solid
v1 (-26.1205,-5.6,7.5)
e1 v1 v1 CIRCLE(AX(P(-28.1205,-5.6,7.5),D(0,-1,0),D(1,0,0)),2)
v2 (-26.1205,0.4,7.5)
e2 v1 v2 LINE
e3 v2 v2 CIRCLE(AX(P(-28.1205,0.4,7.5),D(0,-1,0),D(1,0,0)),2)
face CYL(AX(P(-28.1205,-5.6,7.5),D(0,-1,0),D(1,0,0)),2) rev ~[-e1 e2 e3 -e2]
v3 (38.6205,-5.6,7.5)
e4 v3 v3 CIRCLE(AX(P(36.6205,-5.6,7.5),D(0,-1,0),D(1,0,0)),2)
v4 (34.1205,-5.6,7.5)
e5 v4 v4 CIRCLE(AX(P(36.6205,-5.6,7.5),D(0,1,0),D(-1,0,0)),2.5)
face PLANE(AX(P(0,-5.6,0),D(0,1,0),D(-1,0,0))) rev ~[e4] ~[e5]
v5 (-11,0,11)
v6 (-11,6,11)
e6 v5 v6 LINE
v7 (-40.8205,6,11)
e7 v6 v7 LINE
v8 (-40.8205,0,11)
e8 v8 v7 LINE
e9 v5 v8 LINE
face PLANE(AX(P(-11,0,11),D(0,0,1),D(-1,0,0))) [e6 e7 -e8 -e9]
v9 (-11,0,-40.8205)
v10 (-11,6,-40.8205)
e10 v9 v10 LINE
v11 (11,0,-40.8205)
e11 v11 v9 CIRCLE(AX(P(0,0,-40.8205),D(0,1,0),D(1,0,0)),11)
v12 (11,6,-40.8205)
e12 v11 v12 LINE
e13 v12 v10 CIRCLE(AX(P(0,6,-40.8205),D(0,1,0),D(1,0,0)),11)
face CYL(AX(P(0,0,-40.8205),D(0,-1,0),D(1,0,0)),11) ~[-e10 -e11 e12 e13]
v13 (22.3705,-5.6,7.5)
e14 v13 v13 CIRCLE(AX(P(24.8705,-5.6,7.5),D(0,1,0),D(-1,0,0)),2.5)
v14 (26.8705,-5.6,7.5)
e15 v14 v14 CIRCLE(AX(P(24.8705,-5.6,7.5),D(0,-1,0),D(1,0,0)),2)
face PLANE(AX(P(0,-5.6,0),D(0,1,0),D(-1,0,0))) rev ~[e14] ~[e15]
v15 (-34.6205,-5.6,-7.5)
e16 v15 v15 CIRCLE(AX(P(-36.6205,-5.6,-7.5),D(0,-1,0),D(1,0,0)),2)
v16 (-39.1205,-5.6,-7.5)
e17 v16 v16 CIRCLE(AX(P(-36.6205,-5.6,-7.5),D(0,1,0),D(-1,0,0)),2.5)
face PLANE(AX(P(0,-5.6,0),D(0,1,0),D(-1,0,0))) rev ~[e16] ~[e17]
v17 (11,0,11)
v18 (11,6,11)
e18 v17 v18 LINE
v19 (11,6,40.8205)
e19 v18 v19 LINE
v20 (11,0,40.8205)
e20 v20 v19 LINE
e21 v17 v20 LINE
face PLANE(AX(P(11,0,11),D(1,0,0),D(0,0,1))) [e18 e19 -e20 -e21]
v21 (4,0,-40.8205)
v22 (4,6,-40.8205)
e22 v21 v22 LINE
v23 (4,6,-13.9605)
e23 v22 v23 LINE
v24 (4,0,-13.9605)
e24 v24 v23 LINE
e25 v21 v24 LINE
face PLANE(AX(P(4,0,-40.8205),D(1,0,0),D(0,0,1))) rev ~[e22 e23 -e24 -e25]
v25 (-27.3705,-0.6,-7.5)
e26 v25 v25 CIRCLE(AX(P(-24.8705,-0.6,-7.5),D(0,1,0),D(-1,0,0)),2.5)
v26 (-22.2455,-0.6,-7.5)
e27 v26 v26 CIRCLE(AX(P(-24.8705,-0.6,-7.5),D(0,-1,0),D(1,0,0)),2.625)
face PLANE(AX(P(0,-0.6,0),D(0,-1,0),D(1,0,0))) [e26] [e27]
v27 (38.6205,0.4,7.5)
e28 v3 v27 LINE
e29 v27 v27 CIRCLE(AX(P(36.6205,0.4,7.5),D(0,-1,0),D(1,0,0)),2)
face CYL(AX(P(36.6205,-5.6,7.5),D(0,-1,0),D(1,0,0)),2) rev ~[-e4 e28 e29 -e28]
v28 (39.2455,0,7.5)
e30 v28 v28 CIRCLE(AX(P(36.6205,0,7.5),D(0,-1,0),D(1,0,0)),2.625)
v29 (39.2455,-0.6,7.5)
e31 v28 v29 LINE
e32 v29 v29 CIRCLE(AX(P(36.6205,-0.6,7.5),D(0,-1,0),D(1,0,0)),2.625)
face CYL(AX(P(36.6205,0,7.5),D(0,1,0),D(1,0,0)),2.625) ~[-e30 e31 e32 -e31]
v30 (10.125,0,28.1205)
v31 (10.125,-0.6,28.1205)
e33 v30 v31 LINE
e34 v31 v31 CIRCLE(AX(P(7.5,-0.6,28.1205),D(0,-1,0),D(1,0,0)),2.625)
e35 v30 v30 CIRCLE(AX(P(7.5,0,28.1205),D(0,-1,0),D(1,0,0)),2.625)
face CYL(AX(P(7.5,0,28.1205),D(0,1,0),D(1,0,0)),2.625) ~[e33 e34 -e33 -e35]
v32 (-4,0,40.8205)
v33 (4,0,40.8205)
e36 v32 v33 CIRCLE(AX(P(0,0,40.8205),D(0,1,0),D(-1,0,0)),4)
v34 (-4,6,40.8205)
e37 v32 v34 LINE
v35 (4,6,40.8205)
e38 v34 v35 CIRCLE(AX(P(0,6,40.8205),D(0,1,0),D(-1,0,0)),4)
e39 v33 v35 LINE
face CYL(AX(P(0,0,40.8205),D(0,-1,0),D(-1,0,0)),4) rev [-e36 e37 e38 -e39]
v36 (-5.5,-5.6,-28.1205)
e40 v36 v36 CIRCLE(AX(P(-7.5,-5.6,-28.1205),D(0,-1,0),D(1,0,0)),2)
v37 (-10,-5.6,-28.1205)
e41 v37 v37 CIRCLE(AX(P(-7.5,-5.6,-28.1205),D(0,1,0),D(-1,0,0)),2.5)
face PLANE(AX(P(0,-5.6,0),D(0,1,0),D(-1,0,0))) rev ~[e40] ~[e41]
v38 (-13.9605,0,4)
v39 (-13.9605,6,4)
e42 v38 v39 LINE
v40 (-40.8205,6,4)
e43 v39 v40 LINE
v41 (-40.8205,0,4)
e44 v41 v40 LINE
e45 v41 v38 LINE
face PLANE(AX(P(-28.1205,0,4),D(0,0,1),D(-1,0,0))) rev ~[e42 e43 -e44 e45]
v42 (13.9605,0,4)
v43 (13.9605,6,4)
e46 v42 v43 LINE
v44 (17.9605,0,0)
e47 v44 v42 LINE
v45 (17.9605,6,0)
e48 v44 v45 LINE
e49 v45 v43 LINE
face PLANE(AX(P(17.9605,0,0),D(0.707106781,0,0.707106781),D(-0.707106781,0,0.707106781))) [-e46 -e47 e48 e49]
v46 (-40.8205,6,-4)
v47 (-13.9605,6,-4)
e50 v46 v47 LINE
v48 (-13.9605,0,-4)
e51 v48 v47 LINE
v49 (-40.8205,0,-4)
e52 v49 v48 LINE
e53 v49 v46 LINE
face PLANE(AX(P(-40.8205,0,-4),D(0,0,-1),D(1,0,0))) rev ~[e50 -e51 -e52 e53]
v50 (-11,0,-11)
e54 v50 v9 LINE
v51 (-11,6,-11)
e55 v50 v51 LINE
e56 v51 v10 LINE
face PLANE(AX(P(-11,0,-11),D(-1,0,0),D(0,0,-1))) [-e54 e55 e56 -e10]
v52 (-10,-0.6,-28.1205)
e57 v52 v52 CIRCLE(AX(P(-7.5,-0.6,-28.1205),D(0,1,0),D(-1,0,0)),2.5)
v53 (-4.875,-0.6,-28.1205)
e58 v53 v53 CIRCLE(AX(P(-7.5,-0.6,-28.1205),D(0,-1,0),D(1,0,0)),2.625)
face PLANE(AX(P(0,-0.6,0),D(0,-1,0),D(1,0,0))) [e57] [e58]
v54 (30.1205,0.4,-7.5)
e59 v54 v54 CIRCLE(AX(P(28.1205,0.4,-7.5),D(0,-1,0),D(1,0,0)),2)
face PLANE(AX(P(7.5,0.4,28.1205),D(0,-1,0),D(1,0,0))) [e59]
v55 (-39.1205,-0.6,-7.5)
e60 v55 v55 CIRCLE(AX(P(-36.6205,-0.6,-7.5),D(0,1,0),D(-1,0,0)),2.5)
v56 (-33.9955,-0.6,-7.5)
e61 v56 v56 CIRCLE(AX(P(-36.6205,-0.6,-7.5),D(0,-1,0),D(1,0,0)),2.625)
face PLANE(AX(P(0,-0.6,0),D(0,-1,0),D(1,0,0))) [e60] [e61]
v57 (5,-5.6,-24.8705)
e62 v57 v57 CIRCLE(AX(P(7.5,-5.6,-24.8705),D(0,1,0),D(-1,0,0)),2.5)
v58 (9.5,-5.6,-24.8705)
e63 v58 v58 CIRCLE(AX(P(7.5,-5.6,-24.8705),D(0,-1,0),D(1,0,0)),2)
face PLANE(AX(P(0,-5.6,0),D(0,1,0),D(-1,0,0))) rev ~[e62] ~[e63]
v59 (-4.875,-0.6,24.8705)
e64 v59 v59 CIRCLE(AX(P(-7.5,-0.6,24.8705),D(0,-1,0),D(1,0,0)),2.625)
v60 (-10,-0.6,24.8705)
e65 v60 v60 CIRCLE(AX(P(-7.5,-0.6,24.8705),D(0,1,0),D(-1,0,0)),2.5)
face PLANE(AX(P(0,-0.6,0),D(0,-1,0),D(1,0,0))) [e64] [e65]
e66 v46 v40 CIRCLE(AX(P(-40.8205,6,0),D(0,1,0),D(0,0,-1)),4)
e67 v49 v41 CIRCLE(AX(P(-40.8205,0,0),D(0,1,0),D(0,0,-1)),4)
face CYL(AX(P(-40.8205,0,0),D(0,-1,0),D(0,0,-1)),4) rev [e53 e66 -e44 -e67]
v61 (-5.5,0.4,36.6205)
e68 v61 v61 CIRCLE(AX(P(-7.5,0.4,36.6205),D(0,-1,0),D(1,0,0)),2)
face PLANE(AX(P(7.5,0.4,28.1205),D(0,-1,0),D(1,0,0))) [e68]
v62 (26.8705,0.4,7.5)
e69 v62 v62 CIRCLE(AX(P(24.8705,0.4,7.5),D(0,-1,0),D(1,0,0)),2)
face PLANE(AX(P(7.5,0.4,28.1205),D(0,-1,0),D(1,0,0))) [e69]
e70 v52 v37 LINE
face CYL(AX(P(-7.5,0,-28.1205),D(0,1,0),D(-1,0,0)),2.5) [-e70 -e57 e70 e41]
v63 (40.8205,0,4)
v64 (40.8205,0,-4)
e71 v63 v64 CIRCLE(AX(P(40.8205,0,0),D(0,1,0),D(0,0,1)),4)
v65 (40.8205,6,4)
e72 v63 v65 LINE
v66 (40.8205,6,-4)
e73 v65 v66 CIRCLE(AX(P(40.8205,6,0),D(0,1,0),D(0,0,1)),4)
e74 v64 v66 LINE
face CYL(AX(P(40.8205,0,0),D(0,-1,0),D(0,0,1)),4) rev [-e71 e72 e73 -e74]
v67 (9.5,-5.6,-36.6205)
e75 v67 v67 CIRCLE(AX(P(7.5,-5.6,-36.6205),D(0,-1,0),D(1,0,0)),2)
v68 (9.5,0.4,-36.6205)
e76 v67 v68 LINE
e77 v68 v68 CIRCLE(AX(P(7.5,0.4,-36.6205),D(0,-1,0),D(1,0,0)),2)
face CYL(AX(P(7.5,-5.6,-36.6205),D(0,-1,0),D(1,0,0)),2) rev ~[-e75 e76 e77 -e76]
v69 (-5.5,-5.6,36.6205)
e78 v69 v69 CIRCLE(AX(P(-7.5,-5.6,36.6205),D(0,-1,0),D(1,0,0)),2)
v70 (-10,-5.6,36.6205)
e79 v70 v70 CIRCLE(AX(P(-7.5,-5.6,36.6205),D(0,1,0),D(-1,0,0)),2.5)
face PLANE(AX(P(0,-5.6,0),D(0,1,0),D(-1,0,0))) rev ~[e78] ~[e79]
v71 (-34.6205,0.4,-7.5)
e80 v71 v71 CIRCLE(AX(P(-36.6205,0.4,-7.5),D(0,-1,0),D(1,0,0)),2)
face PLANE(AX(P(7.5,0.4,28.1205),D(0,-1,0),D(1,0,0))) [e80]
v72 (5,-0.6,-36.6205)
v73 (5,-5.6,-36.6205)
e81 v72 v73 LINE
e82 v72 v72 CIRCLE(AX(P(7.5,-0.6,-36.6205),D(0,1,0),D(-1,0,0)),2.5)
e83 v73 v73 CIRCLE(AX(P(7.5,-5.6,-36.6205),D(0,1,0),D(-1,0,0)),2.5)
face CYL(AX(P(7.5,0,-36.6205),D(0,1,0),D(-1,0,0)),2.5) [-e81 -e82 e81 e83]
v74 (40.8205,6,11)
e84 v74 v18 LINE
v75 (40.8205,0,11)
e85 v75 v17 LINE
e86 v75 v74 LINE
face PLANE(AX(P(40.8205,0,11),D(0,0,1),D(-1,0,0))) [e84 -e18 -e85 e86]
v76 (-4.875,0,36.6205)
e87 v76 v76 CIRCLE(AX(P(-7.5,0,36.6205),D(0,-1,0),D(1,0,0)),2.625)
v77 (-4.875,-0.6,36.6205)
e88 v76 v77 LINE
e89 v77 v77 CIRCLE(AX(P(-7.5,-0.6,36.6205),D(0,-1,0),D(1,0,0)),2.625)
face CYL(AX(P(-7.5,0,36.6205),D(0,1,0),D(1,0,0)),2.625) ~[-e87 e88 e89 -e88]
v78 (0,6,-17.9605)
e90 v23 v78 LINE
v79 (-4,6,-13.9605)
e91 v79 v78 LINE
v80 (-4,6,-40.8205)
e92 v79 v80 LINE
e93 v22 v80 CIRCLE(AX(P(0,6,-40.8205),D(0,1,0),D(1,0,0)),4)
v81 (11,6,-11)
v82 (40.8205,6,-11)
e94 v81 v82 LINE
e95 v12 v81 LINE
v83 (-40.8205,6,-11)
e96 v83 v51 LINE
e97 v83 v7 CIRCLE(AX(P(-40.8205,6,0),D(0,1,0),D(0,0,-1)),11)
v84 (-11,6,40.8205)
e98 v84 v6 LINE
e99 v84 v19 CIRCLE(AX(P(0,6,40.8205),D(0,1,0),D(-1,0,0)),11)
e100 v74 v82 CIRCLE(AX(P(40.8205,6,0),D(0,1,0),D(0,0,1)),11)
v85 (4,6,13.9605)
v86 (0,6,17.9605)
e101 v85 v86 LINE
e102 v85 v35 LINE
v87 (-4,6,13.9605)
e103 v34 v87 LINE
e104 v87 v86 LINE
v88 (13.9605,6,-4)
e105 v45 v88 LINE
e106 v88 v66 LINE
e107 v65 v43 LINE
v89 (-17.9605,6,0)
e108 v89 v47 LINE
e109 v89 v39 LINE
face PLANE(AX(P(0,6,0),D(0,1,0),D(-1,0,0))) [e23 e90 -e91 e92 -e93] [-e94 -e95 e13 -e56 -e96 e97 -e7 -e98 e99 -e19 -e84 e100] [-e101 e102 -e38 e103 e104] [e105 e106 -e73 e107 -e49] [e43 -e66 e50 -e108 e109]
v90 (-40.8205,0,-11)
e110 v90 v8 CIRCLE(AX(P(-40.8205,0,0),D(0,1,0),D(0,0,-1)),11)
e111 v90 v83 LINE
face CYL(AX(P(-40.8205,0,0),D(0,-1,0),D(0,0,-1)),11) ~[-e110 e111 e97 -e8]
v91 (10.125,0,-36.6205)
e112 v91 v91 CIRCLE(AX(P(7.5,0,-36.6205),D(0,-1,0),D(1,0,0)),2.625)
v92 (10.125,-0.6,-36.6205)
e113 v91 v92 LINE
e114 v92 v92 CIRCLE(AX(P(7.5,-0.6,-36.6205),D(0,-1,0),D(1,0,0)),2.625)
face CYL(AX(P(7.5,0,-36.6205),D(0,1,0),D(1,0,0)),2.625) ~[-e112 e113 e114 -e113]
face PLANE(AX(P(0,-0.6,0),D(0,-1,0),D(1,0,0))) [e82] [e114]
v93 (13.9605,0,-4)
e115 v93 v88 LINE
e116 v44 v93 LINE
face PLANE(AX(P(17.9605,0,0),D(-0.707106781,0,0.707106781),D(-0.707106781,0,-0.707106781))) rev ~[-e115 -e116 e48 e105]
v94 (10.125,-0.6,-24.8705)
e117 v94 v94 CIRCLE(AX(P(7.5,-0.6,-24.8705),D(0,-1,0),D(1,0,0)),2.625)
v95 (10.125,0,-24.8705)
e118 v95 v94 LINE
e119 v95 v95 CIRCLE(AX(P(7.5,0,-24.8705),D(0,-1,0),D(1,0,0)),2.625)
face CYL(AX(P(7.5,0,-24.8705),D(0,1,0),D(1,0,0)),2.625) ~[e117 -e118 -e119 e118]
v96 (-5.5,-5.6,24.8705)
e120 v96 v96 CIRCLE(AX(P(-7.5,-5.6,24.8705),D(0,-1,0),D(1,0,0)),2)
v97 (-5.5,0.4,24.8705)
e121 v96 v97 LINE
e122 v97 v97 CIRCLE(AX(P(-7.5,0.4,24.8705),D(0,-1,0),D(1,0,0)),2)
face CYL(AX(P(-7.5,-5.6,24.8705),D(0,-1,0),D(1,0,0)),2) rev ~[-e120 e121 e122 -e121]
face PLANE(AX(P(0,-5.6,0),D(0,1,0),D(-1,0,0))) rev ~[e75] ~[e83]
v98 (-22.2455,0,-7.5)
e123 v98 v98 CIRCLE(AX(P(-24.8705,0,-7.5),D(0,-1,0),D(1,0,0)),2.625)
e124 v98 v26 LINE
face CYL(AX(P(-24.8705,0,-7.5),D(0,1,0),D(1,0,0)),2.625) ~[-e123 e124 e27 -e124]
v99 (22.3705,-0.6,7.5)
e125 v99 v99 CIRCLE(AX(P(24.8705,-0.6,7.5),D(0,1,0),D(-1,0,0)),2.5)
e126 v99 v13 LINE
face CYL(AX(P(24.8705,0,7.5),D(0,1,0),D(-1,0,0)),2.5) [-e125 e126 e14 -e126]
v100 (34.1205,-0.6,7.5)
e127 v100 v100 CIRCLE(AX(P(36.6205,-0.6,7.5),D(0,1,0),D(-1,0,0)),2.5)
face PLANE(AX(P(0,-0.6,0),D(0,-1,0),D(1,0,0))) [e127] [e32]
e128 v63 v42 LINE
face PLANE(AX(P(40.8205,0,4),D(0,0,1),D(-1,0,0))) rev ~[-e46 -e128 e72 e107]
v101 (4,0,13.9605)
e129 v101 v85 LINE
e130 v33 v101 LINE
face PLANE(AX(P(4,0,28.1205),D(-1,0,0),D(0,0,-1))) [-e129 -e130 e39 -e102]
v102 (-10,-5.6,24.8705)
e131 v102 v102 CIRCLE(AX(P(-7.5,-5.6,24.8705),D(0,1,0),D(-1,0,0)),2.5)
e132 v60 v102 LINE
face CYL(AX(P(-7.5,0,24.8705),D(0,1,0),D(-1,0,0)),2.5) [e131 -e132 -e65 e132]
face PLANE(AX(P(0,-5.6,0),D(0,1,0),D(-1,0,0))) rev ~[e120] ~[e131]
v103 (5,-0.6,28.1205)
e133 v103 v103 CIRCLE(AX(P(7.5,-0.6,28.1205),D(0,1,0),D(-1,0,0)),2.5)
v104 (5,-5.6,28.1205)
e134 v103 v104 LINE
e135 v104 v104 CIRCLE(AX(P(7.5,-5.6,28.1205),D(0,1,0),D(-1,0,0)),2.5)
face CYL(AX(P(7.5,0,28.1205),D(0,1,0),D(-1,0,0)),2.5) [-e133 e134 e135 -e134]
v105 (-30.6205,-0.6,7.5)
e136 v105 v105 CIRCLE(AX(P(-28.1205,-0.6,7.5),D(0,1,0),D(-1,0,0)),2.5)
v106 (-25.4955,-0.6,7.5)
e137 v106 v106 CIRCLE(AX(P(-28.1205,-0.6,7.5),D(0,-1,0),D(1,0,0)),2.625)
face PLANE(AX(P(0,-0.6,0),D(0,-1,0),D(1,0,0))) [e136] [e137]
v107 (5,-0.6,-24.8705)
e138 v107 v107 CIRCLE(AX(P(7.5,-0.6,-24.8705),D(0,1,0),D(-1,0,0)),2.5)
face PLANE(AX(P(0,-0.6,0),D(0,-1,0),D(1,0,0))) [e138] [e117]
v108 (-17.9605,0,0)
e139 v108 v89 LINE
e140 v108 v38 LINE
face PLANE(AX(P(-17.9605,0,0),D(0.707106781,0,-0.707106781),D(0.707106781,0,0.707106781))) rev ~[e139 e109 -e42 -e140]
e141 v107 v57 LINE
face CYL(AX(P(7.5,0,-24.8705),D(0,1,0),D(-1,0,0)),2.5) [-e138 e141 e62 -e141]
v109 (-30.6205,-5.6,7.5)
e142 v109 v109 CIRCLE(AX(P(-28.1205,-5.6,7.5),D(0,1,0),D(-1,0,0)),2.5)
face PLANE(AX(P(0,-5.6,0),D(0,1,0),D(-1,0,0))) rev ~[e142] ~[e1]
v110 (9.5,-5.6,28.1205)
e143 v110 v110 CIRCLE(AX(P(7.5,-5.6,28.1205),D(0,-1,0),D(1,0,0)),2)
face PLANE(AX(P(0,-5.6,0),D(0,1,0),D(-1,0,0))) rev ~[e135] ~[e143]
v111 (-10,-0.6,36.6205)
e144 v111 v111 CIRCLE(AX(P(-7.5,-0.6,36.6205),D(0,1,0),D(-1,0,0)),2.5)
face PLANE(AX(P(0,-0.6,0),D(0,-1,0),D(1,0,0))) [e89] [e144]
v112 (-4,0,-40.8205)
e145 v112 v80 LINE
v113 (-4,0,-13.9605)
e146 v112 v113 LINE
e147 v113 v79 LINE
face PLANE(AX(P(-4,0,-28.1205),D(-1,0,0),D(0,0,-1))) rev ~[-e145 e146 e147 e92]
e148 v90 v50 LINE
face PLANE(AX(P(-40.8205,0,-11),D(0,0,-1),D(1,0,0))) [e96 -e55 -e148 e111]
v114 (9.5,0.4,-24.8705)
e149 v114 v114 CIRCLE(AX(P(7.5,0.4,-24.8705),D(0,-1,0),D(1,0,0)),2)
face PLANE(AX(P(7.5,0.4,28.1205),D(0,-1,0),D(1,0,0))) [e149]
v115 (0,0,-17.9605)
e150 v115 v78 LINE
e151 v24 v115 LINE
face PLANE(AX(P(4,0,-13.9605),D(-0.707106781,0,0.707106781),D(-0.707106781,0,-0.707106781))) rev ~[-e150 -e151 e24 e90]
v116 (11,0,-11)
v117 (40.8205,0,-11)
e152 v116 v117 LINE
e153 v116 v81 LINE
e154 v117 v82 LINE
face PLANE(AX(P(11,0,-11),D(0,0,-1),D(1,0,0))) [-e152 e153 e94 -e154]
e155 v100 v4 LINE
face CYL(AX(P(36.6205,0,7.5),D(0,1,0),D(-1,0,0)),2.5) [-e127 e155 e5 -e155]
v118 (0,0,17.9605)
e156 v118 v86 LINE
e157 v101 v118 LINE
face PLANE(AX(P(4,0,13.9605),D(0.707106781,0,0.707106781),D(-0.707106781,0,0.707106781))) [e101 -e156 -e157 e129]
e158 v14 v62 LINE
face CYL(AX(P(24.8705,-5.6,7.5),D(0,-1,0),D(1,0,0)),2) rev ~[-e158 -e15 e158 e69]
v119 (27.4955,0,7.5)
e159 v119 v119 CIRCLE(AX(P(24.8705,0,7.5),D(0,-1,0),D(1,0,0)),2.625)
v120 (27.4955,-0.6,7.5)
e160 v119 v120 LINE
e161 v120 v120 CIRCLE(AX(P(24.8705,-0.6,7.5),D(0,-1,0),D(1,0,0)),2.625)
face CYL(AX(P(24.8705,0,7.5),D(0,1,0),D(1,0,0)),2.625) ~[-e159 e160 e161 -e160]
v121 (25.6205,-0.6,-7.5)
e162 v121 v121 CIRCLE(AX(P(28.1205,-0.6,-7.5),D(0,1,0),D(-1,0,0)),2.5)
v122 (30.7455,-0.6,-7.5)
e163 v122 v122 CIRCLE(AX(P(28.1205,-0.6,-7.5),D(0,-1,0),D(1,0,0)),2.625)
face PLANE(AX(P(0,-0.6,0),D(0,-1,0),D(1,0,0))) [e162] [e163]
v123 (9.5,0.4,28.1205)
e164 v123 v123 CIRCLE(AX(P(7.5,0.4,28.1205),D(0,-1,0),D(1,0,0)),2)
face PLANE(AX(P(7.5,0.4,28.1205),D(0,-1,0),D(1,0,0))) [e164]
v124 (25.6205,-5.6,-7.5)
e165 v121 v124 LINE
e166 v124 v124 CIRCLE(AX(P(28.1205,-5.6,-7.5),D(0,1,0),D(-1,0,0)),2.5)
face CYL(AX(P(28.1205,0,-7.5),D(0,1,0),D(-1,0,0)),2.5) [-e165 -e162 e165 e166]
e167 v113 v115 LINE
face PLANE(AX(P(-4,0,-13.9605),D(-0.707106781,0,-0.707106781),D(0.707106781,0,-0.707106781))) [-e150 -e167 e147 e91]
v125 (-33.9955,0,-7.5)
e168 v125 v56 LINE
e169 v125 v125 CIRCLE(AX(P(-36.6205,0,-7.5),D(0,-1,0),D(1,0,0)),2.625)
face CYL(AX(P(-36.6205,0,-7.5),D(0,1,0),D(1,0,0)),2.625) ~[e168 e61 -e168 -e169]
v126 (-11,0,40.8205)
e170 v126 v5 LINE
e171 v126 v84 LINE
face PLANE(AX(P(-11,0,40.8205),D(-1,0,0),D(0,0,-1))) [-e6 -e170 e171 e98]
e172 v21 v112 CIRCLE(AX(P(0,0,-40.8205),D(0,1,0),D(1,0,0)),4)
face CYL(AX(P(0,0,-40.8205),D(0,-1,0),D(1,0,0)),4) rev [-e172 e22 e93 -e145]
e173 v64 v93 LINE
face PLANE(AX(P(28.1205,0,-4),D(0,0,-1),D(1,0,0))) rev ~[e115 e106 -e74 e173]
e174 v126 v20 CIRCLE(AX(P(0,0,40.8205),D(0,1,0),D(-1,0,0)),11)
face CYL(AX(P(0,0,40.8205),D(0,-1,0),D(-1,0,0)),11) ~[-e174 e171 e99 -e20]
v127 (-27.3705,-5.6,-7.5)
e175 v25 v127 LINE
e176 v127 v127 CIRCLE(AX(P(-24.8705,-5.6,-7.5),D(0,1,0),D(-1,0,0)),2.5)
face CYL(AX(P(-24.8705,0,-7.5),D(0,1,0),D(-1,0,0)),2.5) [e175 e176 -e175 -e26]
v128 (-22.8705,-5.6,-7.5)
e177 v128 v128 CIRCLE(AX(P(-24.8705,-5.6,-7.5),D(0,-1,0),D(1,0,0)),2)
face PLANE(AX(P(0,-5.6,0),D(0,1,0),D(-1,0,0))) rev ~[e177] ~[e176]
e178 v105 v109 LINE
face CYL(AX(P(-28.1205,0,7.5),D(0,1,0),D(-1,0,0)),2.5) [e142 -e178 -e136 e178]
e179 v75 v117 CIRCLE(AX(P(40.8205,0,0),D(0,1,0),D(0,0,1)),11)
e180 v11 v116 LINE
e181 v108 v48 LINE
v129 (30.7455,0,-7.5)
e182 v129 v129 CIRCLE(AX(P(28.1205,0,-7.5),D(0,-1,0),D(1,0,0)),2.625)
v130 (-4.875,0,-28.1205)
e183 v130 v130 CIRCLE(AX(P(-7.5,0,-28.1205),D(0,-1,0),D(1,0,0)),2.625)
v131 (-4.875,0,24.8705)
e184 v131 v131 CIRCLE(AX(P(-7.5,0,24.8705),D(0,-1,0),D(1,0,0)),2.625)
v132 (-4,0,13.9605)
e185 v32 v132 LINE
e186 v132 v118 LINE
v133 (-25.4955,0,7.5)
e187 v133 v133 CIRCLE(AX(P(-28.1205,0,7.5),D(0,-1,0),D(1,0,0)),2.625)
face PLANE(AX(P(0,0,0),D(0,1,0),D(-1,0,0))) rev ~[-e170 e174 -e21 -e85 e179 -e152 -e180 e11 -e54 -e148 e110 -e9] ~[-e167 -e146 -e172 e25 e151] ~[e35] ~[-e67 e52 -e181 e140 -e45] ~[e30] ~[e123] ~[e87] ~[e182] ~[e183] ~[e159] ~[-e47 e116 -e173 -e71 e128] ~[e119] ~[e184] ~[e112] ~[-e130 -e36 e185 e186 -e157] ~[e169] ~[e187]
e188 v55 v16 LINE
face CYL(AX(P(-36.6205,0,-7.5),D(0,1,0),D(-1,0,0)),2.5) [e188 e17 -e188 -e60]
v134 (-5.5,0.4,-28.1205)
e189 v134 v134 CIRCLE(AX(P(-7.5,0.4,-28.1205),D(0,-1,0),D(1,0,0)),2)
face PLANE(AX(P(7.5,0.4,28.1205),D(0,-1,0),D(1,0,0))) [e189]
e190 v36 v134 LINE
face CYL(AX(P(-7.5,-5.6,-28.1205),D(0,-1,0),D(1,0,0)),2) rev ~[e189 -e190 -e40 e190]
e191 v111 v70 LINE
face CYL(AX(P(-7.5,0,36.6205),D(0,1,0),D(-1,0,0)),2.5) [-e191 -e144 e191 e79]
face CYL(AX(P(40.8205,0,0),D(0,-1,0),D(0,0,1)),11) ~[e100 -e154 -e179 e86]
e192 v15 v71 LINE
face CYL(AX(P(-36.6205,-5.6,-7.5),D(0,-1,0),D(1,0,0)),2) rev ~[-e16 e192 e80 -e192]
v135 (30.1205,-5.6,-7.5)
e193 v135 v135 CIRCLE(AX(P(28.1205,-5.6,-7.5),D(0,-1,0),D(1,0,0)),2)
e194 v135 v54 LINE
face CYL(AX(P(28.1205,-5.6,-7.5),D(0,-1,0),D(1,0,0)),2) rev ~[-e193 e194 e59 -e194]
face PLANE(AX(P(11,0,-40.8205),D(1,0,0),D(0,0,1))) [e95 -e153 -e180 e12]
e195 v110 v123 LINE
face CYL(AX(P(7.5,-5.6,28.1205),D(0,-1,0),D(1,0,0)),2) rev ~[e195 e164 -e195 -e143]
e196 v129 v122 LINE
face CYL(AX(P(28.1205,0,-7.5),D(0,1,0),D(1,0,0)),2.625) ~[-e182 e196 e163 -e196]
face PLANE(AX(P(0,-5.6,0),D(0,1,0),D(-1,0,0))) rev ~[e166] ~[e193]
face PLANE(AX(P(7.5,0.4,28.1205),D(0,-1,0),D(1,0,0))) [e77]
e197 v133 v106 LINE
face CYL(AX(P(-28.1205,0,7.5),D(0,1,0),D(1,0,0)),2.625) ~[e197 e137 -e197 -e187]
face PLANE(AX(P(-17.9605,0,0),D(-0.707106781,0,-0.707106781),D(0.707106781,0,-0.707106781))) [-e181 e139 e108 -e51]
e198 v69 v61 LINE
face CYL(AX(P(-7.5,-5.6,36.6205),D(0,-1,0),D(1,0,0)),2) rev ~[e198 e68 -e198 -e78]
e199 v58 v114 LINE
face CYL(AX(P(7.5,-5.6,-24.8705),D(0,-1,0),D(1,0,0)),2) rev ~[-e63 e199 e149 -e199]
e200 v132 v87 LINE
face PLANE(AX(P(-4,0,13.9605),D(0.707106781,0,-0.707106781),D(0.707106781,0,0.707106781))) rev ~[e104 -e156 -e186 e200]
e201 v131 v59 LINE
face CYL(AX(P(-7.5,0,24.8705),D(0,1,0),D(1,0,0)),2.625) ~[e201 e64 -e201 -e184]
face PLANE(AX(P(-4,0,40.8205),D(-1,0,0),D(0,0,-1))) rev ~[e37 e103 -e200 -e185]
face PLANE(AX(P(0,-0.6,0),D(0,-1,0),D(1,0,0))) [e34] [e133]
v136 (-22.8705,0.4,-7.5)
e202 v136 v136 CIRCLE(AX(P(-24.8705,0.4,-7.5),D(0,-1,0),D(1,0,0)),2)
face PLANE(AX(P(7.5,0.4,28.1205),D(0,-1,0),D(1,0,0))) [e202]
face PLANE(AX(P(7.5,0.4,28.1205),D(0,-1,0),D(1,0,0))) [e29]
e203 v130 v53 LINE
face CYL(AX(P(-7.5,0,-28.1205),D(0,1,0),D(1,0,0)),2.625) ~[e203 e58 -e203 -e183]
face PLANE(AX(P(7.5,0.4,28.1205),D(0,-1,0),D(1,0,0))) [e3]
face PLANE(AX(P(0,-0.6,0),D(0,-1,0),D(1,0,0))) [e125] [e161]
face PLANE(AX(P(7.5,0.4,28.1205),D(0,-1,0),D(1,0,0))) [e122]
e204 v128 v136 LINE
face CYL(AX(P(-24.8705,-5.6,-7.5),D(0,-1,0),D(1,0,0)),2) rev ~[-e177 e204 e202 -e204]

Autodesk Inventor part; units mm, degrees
ref_plane "YZ Plane" through (0, 0, 0) normal (1, 0, 0) x (0, 1, 0)
ref_plane "XZ Plane" through (0, 0, 0) normal (0, 1, 0) x (-1, 0, 0)
ref_plane "XY Plane" through (0, 0, 0) normal (0, 0, 1) x (1, 0, 0)
sketch "Sketch1" plane through (0, 0, 0) normal (0, 1, 0) x (-1, 0, 0)
  line L0 (17.9605, 0) -> (0, -17.9605)
  line L1 (17.9605, 0) -> (43.3605, 0) construction
  line L2 (17.9605, 0) -> (0, 17.9605)
  line L3 (17.9605, 0) -> (43.3605, 0) construction
  line L4 (-17.9605, 0) -> (0, -17.9605)
  line L5 (-17.9605, 0) -> (0, 17.9605)
  line L6 (0, 15.4205) -> (-15.4205, 0)
  line L7 (0, 15.4205) -> (21.8079, 15.4205) construction
  line L8 (-15.4205, 0) -> (0, -15.4205)
  line L9 (0, -15.4205) -> (15.4205, 0)
  line L10 (15.4205, 0) -> (0, 15.4205)
  line L11 (0, -40.8205) -> (2, -40.8205)
  line L12 (0, -40.8205) -> (-2, -40.8205)
  circle A0 centre (7.5, -28.1205) radius 2.5
  line L13 (4, -28.1205) -> (4, -13.9605)
  line L14 (4, -28.1205) -> (4, -40.8205)
  line L15 (11, -6.9605) -> (11, -40.8205)
  arc A1 (-4, -40.8205) -> (4, -40.8205) centre (0, -40.8205) ccw
  line L16 (0, -15.4205) -> (0, -17.9605)
  line L17 (-4, -40.8205) -> (-4, -13.9605)
  line L18 (-11, -40.8205) -> (-11, -6.9605)
  arc A2 (-11, -40.8205) -> (11, -40.8205) centre (0, -40.8205) ccw
  circle A3 centre (-7.5, -24.8705) radius 2.5
  circle A4 centre (-7.5, -36.6205) radius 2.5
  line L19 (15.4205, 0) -> (17.9605, 0)
  line L20 (28.1205, 4) -> (13.9605, 4)
  circle A5 centre (28.1205, 7.5) radius 2.5
  circle A6 centre (24.8705, -7.5) radius 2.5
  line L21 (6.9605, 11) -> (40.8205, 11)
  line L22 (40.8205, -11) -> (6.9605, -11)
  line L23 (40.8205, -4) -> (13.9605, -4)
  line L24 (28.1205, 4) -> (40.8205, 4)
  line L25 (40.8205, 0) -> (40.8205, 2)
  circle A7 centre (36.6205, -7.5) radius 2.5
  line L26 (40.8205, 0) -> (40.8205, -2)
  arc A8 (40.8205, -4) -> (40.8205, 4) centre (40.8205, 0) ccw
  arc A9 (40.8205, -11) -> (40.8205, 11) centre (40.8205, 0) ccw
  line L27 (0, 15.4205) -> (0, 17.9605)
  line L28 (-4, 28.1205) -> (-4, 13.9605)
  circle A10 centre (-7.5, 28.1205) radius 2.5
  circle A11 centre (7.5, 24.8705) radius 2.5
  line L29 (-11, 6.9605) -> (-11, 40.8205)
  line L30 (11, 40.8205) -> (11, 6.9605)
  line L31 (4, 40.8205) -> (4, 13.9605)
  line L32 (-4, 28.1205) -> (-4, 40.8205)
  line L33 (0, 40.8205) -> (-2, 40.8205)
  circle A12 centre (7.5, 36.6205) radius 2.5
  line L34 (0, 40.8205) -> (2, 40.8205)
  arc A13 (4, 40.8205) -> (-4, 40.8205) centre (0, 40.8205) ccw
  arc A14 (11, 40.8205) -> (-11, 40.8205) centre (0, 40.8205) ccw
  line L35 (-15.4205, 0) -> (-17.9605, 0)
  line L36 (-28.1205, -4) -> (-13.9605, -4)
  circle A15 centre (-28.1205, -7.5) radius 2.5
  circle A16 centre (-24.8705, 7.5) radius 2.5
  line L37 (-6.9605, -11) -> (-40.8205, -11)
  line L38 (-40.8205, 11) -> (-6.9605, 11)
  line L39 (-40.8205, 4) -> (-13.9605, 4)
  line L40 (-28.1205, -4) -> (-40.8205, -4)
  line L41 (-40.8205, 0) -> (-40.8205, -2)
  circle A17 centre (-36.6205, 7.5) radius 2.5
  line L42 (-40.8205, 0) -> (-40.8205, 2)
  arc A18 (-40.8205, 4) -> (-40.8205, -4) centre (-40.8205, 0) ccw
  arc A19 (-40.8205, 11) -> (-40.8205, -11) centre (-40.8205, 0) ccw
  point P0 (0, 0)
  point P1 (0, -28.1205)
  point P2 (2, -28.1205)
  point P3 (-2, -22.1205)
  point P4 (-7.5, -22.1205)
  point P5 (-2, -34.1205)
  point P6 (-7.5, -34.1205)
  point P7 (11, -28.1205)
  point P8 (28.1205, 2)
  point P9 (28.1205, 11)
  point P10 (34.1205, -7.5)
  point P11 (34.1205, -2)
  point P12 (22.1205, -7.5)
  point P13 (22.1205, -2)
  point P14 (28.1205, 0)
  point P15 (-2, 28.1205)
  point P16 (-11, 28.1205)
  point P17 (7.5, 34.1205)
  point P18 (2, 34.1205)
  point P19 (7.5, 22.1205)
  point P20 (2, 22.1205)
  point P21 (0, 28.1205)
  point P22 (-28.1205, -2)
  point P23 (-28.1205, -11)
  point P24 (-34.1205, 7.5)
  point P25 (-34.1205, 2)
  point P26 (-22.1205, 7.5)
  point P27 (-22.1205, 2)
  point P28 (-28.1205, 0)
  point P29 (11, 11)
  point P30 (-11, 11)
  point P31 (-11, -11)
  point P32 (11, -11)
  dimension "d12" = 25.4
  dimension "d15" = 25.4
  dimension "d18" = 2.54
  dimension "d19" = 135
  dimension "d25" = 5
  dimension "d41" = 360
extrude "Extrusion1" add sketch "Sketch1" along normal blind 6 contours L19 L10 L27 L2 | L0 L16 L9 L19 | L23 A8 L24 L20 L2 L30 L21 A9 L22 L15 L0 | L9 L8 L6 L10 | L15 L22 L0 | L2 L21 L30 | L16 L4 L35 L8 | L6 L35 L5 L27 | L22 L15 A2 L18 L37 L4 L17 A1 L14 L13 L0 | L2 L31 A13 L32 L28 L5 L38 L29 A14 L30 L21 | L4 L18 L37 A19 L38 L29 L5 L39 A18 L40 L36 | L37 L18 L4 | L5 L29 L38 | A0 | A3 | A4 | A5 | A6 | A7 | A10 | A11 | A12 | A15 | A16 | A17
extrude "Extrusion2" add sketch "Sketch1" against normal blind 5.6 contours A0 | A3 | A4 | A5 | A6 | A7 | A10 | A11 | A12 | A15 | A16 | A17
sketch "Sketch2" plane through (0, 0, 0) normal (0, -1, 0) x (1, 0, 0)
  circle A0 centre (7.5, 28.1205) radius 2.5 projected
  circle A1 centre (7.5, 28.1205) radius 2.625
  circle A2 centre (-7.5, 36.6205) radius 2.5 projected
  circle A3 centre (-7.5, 36.6205) radius 2.625
  circle A4 centre (-7.5, 24.8705) radius 2.5 projected
  circle A5 centre (-7.5, 24.8705) radius 2.625
  circle A6 centre (-28.1205, 7.5) radius 2.625
  circle A7 centre (-36.6205, -7.5) radius 2.625
  circle A8 centre (-24.8705, -7.5) radius 2.625
  circle A9 centre (-7.5, -28.1205) radius 2.625
  circle A10 centre (7.5, -36.6205) radius 2.625
  circle A11 centre (7.5, -24.8705) radius 2.625
  circle A12 centre (28.1205, -7.5) radius 2.625
  circle A13 centre (36.6205, 7.5) radius 2.625
  circle A14 centre (24.8705, 7.5) radius 2.625
  point P0 (0, 0)
  dimension "d47" = 5.25
  dimension "d48" = 5.25
  dimension "d49" = 5.25
  dimension "d52" = 360
extrude "Extrusion3" add sketch "Sketch2" along normal blind 0.6 contours A0 | A1 | A2 | A3 | A4 | A5 | A6 | A7 | A8 | A9 | A10 | A11 | A12 | A13 | A14
sketch "Sketch3" plane through (7.5, -5.6, 28.1205) normal (0, -1, 0) x (1, 0, 0)
  circle A0 centre (0, 0) radius 2
  circle A1 centre (-15, 8.5) radius 2.5 projected
  circle A2 centre (-15, 8.5) radius 2
  circle A3 centre (-15, -3.25) radius 2.5 projected
  circle A4 centre (-15, -3.25) radius 2
  circle A5 centre (-44.1205, -35.6205) radius 2
  circle A6 centre (-32.3705, -35.6205) radius 2
  circle A7 centre (-35.6205, -20.6205) radius 2
  circle A8 centre (0, -64.741) radius 2
  circle A9 centre (0, -52.991) radius 2
  circle A10 centre (-15, -56.241) radius 2
  circle A11 centre (29.1205, -20.6205) radius 2
  circle A12 centre (17.3705, -20.6205) radius 2
  circle A13 centre (20.6205, -35.6205) radius 2
  point P0 (-7.5, -28.1205)
  dimension "d56" = 4
  dimension "d57" = 4
  dimension "d58" = 4
  dimension "d61" = 360
extrude "Extrusion4" cut sketch "Sketch3" against normal blind 6 contours A0 | A2 | A4 | A5 | A6 | A7 | A8 | A9 | A10 | A11 | A12 | A13
properties part number "Redesign_Gripper_Baseplate"
